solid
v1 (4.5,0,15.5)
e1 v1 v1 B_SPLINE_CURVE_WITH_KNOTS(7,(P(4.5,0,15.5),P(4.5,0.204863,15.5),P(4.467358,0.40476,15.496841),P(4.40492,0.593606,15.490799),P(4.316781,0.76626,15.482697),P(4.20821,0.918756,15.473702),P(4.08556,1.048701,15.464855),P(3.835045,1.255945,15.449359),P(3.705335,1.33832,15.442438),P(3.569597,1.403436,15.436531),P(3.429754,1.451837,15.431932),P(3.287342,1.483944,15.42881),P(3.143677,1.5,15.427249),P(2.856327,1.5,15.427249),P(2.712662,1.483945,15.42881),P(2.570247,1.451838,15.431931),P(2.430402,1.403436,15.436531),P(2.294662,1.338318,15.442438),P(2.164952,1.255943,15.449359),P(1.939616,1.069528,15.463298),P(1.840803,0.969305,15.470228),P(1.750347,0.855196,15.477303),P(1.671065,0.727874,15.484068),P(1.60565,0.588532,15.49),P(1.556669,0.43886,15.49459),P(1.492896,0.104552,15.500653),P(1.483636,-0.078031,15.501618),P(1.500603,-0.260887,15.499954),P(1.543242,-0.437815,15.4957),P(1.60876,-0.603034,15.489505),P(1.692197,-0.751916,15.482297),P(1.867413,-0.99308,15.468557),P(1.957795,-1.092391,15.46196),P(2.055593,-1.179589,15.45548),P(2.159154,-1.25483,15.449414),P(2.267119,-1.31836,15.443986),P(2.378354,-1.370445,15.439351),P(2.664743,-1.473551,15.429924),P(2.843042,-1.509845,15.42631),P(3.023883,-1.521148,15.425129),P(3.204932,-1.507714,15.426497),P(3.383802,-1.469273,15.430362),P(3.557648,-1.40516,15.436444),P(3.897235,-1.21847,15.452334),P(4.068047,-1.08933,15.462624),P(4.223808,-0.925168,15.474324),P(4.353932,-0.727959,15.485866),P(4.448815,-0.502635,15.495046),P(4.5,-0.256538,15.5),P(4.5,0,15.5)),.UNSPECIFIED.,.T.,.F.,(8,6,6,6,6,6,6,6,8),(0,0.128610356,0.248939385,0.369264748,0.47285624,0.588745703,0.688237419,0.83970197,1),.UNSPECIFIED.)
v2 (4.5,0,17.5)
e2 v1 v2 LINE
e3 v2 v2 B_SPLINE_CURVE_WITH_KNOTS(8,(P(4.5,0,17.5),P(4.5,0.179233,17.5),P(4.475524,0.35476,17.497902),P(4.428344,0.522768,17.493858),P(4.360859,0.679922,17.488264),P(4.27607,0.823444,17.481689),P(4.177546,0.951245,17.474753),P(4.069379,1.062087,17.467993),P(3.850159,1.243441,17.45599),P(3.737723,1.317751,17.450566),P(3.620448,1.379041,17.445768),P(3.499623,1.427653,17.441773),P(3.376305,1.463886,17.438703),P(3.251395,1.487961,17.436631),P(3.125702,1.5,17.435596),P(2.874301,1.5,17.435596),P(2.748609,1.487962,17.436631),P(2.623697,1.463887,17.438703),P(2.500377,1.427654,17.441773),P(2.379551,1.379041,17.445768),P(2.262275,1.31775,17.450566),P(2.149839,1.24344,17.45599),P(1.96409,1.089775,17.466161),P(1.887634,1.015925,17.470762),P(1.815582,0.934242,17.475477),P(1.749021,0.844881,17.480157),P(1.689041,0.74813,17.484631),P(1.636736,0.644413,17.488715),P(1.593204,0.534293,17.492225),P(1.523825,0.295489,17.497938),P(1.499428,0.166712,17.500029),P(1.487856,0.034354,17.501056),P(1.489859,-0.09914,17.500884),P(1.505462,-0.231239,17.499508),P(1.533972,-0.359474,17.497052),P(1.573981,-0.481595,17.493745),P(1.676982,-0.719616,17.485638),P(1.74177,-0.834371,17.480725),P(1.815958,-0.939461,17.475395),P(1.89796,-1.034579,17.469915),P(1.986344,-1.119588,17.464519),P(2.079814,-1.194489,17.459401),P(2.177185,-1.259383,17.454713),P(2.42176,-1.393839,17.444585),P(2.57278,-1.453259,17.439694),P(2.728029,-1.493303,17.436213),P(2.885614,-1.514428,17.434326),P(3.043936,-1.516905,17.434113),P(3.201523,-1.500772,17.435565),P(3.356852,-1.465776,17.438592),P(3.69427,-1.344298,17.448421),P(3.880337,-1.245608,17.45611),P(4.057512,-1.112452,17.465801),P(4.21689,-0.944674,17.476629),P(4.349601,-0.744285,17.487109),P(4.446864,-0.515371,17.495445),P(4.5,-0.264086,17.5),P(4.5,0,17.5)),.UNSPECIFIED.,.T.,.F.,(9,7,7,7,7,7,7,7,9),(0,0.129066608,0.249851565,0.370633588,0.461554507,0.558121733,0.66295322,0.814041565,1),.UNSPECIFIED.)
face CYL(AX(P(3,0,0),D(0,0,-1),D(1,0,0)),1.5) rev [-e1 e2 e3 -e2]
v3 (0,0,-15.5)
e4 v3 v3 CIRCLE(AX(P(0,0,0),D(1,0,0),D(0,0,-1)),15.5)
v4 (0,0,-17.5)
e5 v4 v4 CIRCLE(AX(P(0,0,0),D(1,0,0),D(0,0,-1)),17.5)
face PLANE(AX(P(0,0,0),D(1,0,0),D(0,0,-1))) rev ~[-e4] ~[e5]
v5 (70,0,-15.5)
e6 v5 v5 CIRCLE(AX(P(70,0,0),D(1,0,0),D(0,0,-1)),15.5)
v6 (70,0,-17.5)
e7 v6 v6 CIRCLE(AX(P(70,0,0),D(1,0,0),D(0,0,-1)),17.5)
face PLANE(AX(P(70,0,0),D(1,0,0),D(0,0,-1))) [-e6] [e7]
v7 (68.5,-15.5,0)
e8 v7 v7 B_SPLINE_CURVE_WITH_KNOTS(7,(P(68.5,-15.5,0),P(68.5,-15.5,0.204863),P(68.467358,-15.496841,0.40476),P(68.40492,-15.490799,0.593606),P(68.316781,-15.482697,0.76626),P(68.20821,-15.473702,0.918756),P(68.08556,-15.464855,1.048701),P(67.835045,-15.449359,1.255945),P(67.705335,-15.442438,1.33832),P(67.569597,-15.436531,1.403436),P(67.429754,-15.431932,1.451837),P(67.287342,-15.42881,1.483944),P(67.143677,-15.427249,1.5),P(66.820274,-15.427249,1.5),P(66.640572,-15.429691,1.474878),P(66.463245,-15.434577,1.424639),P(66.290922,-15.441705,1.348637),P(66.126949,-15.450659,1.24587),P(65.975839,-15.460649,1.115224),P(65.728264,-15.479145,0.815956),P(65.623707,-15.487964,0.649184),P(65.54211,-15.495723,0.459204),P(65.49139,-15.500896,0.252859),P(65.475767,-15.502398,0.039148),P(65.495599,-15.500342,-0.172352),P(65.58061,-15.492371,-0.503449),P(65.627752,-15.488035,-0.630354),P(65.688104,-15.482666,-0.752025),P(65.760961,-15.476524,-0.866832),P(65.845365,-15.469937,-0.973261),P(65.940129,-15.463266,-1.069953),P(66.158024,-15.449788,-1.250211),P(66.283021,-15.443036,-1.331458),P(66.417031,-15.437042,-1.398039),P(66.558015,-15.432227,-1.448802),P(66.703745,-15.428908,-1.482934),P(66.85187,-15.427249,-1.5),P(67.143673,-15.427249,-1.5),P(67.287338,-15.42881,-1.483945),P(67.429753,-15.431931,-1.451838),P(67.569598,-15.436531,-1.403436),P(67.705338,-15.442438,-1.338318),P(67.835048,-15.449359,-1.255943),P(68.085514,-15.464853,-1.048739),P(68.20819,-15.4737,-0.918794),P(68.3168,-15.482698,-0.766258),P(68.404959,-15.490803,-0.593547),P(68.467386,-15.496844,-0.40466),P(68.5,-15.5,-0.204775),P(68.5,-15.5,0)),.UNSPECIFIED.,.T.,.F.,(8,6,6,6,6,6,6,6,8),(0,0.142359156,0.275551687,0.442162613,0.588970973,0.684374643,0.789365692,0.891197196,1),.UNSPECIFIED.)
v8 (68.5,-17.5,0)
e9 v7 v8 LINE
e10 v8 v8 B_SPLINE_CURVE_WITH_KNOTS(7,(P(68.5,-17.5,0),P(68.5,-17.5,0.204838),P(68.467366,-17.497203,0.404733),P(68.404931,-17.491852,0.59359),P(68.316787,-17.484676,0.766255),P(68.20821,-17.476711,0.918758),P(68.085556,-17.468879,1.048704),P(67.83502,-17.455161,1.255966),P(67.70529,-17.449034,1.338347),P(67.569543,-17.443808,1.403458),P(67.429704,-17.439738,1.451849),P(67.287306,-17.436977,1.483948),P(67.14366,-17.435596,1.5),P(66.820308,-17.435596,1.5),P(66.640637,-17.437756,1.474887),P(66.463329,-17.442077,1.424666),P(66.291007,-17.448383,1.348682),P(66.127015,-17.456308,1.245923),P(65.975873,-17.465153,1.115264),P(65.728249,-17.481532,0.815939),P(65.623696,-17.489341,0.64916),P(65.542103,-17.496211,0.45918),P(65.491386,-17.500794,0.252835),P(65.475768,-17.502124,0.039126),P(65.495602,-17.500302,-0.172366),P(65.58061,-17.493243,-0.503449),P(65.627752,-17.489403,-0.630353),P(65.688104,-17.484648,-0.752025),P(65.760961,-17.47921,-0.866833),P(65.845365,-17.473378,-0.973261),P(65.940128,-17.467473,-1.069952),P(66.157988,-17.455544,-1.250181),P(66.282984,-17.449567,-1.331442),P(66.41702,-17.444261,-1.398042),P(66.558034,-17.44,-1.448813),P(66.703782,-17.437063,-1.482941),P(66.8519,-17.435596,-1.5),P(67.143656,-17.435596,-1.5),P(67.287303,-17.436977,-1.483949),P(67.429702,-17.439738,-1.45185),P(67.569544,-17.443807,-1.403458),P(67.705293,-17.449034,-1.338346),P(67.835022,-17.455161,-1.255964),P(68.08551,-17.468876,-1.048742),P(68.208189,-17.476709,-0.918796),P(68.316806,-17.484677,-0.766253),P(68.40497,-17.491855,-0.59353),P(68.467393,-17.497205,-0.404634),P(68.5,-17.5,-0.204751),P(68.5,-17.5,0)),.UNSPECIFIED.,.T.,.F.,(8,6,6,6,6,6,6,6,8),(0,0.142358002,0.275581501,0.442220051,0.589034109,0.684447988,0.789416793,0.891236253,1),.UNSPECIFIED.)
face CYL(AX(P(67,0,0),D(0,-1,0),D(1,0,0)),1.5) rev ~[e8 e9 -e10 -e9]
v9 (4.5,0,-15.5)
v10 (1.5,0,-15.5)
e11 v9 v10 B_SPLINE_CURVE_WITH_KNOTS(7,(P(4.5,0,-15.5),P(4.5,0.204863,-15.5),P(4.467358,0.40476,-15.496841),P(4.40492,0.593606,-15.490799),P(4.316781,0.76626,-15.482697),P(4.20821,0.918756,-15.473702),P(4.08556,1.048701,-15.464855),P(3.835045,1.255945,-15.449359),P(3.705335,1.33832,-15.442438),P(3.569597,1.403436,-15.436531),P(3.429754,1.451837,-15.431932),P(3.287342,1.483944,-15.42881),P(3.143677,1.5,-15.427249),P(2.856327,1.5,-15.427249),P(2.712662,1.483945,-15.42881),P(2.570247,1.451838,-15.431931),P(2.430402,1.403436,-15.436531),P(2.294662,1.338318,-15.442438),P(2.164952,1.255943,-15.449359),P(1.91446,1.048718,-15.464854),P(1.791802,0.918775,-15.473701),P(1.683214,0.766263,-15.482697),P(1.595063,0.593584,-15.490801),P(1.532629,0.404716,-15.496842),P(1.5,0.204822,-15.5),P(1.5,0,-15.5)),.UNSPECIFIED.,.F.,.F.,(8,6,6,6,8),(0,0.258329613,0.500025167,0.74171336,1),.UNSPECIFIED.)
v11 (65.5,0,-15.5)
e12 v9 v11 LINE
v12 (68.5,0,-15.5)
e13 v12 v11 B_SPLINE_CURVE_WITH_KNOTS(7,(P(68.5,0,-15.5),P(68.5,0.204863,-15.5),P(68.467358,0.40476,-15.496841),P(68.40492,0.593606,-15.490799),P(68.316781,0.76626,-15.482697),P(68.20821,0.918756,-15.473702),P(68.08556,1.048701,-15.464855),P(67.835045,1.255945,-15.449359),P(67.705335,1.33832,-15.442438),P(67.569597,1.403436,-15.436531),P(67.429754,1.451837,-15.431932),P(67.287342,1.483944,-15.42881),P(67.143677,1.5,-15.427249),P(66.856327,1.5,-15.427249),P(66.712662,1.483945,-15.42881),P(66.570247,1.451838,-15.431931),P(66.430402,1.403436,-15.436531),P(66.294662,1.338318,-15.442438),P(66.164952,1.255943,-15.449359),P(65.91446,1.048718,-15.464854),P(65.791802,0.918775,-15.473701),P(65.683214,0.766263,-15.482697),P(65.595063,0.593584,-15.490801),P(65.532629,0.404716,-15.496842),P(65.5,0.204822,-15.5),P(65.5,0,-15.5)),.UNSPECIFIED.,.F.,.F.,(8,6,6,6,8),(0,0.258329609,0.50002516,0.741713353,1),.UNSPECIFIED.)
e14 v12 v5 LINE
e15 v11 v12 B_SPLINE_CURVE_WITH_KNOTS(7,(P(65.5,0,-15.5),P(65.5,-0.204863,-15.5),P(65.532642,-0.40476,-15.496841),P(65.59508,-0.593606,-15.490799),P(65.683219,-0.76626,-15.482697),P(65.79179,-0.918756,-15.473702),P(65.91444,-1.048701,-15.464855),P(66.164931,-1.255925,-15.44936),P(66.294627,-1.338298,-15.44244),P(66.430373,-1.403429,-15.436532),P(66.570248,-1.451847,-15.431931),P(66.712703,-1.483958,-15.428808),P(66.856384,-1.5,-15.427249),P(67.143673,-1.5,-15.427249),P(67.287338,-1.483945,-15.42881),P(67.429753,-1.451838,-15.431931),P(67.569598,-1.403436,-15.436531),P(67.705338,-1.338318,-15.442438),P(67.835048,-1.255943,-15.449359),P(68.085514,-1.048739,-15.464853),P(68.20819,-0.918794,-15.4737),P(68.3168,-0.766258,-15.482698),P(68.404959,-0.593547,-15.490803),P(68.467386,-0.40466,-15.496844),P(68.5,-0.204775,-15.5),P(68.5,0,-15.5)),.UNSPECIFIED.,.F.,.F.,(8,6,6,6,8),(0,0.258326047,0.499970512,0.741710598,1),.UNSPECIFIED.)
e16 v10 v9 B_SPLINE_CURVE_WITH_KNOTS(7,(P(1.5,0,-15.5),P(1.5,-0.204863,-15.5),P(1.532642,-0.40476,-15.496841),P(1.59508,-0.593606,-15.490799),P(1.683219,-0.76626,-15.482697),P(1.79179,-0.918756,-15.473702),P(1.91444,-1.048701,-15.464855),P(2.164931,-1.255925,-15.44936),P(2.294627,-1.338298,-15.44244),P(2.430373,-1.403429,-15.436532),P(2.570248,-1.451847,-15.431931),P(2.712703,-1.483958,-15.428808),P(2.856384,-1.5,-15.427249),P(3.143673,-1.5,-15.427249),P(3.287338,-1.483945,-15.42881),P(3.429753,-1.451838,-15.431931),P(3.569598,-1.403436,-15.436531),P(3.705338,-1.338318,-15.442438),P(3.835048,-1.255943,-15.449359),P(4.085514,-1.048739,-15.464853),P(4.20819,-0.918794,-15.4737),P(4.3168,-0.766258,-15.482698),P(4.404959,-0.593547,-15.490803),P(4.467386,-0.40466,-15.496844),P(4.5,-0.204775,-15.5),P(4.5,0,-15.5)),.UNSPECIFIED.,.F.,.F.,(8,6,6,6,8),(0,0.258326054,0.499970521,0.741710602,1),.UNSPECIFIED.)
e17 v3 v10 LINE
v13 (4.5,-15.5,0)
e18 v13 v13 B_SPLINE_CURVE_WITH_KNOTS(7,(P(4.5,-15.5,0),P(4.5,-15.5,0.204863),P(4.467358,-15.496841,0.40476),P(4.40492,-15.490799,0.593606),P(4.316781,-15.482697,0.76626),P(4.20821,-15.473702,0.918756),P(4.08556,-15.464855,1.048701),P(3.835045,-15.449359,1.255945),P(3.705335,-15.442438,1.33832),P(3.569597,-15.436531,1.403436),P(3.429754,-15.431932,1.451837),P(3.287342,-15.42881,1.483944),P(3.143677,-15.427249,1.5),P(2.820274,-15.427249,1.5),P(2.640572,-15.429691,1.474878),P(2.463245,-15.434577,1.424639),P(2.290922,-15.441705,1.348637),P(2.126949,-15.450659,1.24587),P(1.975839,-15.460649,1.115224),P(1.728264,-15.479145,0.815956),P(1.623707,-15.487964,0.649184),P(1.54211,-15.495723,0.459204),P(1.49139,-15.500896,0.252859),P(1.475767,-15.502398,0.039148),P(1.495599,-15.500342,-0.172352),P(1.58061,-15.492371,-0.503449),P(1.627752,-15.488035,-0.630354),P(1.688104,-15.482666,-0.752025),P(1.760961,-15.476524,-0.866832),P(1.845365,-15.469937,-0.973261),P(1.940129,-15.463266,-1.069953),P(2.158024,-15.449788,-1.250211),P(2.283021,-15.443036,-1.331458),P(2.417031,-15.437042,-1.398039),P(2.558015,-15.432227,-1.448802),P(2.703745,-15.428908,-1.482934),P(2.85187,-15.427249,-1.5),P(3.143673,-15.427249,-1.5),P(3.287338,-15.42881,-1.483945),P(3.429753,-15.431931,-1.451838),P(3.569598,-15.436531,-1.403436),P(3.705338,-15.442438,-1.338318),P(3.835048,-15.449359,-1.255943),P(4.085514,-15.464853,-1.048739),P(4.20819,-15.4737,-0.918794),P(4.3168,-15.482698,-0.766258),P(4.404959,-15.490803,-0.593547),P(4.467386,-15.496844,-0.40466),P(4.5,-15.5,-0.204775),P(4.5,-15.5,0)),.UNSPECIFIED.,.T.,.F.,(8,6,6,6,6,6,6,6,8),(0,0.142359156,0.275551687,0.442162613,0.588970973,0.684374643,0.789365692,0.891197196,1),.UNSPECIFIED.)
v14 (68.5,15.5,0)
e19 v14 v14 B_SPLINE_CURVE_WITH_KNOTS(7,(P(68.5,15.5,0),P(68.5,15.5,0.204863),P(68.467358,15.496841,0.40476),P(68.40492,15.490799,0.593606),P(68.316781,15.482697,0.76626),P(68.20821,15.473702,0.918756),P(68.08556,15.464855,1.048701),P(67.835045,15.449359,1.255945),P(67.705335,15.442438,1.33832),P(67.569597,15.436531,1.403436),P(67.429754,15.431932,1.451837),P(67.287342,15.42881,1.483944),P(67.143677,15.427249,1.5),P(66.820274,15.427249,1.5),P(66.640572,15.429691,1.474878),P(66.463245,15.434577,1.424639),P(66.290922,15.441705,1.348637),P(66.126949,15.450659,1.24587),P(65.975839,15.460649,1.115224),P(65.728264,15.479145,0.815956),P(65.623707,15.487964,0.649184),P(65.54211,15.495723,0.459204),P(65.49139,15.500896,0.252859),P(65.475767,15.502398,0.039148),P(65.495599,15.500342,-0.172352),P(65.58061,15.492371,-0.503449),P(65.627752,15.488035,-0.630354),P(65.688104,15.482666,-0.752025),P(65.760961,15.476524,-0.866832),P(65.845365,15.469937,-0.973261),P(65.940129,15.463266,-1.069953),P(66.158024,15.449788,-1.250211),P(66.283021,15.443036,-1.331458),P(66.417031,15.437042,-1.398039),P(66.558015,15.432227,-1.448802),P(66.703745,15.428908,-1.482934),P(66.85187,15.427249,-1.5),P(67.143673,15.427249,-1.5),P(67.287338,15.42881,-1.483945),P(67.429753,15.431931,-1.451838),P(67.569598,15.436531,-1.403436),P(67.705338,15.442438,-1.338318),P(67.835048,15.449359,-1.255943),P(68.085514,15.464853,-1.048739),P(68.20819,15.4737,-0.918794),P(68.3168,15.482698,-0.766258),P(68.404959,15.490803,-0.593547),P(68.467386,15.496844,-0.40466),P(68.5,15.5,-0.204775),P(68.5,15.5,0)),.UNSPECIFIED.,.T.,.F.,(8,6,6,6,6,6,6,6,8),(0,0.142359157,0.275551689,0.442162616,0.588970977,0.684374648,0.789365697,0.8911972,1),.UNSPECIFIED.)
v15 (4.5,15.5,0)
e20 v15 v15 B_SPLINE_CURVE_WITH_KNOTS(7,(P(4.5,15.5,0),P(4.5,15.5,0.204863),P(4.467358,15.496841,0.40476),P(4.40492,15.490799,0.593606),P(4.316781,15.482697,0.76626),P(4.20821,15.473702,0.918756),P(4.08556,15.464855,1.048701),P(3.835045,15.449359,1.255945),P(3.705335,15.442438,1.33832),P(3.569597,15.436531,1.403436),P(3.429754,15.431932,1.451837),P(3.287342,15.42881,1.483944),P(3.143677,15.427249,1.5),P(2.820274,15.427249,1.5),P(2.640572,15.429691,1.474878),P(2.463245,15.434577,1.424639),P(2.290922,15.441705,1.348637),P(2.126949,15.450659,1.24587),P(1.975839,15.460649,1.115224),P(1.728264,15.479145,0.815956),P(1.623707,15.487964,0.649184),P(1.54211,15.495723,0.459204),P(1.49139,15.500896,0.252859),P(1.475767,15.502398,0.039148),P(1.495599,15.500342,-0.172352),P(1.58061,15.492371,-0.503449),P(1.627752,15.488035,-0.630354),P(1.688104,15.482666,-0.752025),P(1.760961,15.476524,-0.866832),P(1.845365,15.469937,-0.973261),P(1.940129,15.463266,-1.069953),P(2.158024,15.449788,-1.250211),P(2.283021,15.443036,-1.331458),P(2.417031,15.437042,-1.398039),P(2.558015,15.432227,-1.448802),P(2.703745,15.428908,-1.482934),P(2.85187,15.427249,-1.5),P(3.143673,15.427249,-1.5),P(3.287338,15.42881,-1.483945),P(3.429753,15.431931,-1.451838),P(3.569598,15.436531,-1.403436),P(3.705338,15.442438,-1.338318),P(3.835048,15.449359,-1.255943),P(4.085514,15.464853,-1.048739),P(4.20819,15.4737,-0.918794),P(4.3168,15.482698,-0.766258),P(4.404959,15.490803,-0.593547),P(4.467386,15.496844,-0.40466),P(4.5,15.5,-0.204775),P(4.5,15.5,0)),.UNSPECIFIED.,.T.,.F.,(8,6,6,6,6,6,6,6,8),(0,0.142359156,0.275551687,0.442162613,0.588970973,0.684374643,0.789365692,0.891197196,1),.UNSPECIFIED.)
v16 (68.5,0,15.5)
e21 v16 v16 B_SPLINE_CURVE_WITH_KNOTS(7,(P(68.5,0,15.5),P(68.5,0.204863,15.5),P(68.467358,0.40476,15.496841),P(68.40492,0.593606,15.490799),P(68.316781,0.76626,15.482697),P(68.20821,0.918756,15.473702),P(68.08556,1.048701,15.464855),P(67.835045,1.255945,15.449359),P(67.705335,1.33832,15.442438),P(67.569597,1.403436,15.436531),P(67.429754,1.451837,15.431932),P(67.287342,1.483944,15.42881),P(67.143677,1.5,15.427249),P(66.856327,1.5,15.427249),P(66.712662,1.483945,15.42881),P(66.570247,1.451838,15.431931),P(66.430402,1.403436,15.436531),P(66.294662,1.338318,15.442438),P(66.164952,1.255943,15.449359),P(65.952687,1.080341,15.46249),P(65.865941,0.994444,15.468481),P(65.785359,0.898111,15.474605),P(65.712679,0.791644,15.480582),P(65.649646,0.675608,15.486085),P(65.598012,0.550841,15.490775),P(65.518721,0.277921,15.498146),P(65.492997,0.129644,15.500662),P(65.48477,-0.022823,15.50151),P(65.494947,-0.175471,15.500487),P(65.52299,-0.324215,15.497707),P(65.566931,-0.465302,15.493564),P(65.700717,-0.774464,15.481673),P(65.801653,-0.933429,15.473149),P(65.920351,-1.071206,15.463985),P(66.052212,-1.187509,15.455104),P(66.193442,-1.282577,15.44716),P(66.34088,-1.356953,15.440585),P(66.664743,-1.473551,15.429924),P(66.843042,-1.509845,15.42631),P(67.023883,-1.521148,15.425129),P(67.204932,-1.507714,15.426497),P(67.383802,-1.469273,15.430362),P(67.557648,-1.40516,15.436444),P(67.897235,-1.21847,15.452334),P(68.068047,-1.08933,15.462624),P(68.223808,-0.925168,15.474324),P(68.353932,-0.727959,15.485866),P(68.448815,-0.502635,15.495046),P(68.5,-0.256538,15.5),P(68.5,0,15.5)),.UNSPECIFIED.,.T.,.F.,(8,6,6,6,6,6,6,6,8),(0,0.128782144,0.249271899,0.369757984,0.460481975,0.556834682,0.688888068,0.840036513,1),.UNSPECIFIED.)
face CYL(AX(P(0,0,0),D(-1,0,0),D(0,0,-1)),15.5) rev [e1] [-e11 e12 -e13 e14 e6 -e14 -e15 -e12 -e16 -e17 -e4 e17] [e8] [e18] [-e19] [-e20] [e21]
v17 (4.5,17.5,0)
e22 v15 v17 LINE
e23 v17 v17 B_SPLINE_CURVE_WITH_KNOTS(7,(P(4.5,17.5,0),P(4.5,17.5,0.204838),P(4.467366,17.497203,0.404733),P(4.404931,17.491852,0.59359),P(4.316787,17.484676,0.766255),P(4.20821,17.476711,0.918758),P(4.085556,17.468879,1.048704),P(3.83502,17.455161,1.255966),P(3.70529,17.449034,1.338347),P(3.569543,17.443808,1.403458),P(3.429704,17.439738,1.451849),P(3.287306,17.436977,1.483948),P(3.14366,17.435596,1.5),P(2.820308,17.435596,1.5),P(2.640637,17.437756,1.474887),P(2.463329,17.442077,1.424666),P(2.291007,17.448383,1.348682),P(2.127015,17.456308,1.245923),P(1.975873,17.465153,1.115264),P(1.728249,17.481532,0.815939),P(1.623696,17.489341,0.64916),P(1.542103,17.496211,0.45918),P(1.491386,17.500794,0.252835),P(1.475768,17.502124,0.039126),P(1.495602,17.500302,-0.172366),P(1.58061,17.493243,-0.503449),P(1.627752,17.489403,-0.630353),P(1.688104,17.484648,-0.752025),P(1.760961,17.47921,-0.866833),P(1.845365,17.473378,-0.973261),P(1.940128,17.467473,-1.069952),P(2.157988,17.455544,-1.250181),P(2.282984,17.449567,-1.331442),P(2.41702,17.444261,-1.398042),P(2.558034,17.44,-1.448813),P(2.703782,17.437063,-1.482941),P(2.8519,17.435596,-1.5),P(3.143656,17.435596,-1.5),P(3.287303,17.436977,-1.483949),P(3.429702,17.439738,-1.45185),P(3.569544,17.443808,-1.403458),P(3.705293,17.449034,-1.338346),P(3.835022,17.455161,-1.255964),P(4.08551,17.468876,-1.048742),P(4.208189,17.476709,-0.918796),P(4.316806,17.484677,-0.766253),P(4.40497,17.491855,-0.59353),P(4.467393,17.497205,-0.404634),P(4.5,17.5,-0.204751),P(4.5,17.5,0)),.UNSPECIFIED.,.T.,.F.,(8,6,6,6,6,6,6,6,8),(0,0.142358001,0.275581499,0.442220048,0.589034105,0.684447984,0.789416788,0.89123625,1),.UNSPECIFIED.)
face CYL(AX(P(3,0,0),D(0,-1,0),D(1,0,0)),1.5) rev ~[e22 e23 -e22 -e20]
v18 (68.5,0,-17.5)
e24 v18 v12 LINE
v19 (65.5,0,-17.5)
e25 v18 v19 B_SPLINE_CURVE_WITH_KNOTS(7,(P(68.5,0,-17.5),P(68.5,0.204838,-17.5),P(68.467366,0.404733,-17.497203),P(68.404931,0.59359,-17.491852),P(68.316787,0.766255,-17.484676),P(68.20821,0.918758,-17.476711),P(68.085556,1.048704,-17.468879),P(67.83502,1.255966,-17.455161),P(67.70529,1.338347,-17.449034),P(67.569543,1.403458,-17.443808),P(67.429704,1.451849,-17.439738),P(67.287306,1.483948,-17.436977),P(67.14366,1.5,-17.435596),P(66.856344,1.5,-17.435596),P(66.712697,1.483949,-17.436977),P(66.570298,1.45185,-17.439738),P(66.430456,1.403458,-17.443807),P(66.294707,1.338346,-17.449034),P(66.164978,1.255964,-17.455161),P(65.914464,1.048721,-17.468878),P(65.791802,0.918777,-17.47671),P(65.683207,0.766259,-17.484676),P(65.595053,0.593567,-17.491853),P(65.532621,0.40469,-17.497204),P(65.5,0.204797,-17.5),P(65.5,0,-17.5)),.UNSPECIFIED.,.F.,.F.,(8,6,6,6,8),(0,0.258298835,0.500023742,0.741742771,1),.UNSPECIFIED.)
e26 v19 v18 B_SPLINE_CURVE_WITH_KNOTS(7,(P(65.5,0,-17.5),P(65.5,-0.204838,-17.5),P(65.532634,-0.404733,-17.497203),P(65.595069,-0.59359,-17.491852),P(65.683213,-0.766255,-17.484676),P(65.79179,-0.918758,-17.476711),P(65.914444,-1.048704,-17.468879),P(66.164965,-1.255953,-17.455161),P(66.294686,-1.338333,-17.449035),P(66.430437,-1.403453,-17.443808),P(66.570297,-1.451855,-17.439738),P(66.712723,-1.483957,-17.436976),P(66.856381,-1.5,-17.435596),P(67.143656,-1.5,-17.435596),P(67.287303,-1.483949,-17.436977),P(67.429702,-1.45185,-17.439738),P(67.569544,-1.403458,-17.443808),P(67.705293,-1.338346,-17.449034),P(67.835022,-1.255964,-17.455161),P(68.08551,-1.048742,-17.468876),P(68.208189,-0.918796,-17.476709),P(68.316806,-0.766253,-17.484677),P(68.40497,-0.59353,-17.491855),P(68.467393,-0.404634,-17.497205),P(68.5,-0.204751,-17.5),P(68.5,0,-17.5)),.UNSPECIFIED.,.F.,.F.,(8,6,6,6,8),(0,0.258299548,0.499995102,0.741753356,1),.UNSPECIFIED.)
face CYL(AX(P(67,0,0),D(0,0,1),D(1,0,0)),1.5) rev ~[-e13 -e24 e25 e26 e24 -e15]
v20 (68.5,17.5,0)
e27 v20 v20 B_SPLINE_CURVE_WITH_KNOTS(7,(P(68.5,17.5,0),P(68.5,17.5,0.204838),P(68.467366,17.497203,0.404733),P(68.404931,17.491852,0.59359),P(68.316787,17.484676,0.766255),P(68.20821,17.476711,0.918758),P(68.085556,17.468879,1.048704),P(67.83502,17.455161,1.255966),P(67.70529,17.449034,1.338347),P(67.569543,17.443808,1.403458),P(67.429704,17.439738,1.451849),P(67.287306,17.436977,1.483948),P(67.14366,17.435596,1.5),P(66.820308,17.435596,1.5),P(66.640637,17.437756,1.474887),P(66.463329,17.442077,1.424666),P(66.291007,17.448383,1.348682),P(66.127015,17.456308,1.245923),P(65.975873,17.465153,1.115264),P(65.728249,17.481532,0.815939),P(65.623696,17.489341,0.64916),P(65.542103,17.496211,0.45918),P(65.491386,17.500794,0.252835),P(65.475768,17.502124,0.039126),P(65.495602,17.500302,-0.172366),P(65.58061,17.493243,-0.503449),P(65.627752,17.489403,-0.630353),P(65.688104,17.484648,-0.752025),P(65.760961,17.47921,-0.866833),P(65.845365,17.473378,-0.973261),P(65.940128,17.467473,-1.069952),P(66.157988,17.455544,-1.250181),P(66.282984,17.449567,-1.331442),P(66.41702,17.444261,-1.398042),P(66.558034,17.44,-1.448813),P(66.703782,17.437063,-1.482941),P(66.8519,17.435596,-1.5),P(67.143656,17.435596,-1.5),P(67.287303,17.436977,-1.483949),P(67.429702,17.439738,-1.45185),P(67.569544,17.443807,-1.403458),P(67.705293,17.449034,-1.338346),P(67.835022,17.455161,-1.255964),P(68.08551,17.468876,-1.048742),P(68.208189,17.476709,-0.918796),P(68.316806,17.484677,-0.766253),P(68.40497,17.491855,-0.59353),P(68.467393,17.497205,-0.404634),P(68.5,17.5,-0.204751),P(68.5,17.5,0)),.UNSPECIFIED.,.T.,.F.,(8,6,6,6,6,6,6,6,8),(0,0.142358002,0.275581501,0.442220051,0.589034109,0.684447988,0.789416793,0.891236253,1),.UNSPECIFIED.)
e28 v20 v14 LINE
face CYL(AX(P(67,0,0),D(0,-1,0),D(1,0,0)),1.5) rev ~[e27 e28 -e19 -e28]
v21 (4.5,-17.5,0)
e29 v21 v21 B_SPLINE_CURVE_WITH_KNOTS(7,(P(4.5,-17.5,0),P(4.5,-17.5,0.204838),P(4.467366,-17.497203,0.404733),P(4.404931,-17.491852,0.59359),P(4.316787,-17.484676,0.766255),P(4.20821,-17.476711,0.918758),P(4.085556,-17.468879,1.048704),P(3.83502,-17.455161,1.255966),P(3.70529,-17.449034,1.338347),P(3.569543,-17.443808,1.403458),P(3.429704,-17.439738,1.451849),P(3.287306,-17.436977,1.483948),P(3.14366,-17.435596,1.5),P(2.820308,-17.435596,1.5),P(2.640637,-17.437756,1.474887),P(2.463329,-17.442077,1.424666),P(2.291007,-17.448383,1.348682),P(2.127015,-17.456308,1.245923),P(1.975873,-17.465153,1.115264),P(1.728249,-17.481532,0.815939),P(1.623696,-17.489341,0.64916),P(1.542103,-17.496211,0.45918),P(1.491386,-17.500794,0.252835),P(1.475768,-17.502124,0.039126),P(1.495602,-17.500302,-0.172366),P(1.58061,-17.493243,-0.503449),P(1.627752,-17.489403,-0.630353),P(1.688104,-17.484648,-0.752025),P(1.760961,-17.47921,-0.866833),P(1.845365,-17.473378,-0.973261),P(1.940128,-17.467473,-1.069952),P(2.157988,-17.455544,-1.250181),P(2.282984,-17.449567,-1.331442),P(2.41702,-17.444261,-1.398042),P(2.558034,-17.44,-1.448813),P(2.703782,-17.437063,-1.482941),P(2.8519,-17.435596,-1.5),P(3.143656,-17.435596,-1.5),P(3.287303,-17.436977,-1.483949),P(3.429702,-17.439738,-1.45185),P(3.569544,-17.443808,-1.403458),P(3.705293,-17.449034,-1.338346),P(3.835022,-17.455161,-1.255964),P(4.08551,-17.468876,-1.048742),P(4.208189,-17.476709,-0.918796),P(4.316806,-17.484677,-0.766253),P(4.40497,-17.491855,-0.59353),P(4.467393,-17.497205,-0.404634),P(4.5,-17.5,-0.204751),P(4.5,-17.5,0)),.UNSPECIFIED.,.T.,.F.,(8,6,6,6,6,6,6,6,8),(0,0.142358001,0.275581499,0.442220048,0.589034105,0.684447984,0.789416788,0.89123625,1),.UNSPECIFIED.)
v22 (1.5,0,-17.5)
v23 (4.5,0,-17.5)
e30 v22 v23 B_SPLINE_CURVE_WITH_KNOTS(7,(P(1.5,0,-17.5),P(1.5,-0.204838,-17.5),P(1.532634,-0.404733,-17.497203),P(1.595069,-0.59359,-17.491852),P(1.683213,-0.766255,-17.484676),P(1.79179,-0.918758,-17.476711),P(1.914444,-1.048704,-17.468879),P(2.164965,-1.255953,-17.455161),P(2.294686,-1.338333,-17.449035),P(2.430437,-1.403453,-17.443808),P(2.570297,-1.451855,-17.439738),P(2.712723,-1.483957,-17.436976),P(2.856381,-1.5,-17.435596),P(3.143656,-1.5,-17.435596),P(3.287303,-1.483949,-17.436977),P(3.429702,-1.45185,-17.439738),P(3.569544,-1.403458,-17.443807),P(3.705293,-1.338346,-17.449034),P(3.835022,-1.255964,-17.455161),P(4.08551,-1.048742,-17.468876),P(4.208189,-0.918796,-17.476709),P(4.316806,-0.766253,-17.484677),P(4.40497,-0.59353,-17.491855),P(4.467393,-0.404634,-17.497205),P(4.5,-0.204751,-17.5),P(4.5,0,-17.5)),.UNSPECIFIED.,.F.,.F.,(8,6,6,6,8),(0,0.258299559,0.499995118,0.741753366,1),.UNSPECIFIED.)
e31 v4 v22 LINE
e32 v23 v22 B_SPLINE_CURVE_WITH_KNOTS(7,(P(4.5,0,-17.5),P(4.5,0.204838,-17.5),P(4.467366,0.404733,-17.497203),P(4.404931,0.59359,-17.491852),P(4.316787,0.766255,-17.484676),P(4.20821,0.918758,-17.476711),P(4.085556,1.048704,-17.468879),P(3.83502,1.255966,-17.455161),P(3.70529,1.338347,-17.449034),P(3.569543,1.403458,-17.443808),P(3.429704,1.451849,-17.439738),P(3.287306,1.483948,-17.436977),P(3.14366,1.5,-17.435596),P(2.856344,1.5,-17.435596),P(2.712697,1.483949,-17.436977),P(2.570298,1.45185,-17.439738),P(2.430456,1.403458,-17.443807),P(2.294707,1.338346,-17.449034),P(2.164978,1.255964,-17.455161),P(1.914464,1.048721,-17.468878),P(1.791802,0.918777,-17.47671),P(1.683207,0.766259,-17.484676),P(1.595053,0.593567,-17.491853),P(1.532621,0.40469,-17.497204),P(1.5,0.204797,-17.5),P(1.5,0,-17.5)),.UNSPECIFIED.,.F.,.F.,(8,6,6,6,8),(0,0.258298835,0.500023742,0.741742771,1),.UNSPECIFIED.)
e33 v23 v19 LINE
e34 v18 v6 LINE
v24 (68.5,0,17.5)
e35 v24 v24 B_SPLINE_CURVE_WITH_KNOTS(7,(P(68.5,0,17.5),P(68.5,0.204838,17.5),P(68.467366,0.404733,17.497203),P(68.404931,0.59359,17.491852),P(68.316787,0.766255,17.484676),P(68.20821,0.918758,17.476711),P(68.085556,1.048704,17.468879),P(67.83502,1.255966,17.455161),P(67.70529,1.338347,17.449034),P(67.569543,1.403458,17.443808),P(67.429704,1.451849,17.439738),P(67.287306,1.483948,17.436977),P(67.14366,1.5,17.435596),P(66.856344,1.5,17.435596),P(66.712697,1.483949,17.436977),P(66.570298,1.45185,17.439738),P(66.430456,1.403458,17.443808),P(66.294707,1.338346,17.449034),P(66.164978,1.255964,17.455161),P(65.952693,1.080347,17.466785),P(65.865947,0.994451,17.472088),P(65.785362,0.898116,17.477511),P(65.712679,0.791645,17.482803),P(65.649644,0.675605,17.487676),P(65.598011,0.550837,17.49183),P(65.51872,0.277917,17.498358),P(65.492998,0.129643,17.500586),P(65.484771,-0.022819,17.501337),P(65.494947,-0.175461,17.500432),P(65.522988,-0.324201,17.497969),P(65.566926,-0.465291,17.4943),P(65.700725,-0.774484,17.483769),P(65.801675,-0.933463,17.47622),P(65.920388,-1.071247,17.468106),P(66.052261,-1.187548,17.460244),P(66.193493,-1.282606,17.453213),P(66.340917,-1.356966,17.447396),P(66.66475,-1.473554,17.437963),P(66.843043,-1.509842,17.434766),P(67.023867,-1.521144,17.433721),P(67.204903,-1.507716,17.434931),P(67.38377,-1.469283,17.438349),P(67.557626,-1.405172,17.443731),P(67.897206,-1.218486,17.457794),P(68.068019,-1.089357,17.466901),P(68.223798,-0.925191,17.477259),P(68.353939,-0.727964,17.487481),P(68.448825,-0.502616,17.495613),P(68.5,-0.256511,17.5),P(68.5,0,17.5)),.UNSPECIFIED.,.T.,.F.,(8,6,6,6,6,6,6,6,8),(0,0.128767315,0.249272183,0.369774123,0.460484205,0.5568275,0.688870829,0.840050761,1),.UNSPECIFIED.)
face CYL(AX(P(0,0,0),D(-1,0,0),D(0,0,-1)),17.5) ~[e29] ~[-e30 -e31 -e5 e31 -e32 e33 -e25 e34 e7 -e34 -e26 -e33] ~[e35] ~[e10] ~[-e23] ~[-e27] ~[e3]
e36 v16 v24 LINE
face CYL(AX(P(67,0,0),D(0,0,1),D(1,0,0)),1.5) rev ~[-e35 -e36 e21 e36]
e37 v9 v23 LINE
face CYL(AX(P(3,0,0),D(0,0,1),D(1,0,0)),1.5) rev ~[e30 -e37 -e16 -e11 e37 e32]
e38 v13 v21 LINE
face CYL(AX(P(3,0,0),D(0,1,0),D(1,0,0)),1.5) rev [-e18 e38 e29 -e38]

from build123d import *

# Parameters (mm, degrees)
SKETCH_1_R               = 17.5
SKETCH_1_R_2             = 15.5
EXTRUDE_1_DEPTH          = 70
SKETCH_2_R               = 1.5
CUT_EXTRUDE_1_DEPTH      = 75.246212025
PATTERN_CIRCULAR_1_COUNT = 2
PATTERN_CIRCULAR_1_ANGLE = 90


with BuildPart() as part:
    # Эскиз1 → Бобышка-Вытянуть1 (new body)
    with BuildSketch(Plane(origin=(0, 0, 0), x_dir=(0, 0, -1), z_dir=(1, 0, 0))):
        Circle(SKETCH_1_R)
        Circle(SKETCH_1_R_2, mode=Mode.SUBTRACT)
    extrude(amount=EXTRUDE_1_DEPTH)

    # Эскиз2 → Вырез-Вытянуть1 (cut, symmetric)
    with BuildSketch(Plane.XY):
        with Locations((3, 0)):
            Circle(SKETCH_2_R)
        with Locations((67, 0)):
            Circle(SKETCH_2_R)
    cut_extrude_1 = extrude(amount=CUT_EXTRUDE_1_DEPTH, both=True, mode=Mode.SUBTRACT)

    # Круговой массив1: Вырез-Вытянуть1 ×2 about axis
    pattern_circular_1_axis = Axis((9.527991342, 0, 0), (1, 0, 0))
    for i in range(1, PATTERN_CIRCULAR_1_COUNT):
        add(cut_extrude_1.rotate(pattern_circular_1_axis, i * PATTERN_CIRCULAR_1_ANGLE / (PATTERN_CIRCULAR_1_COUNT - 1)), mode=Mode.SUBTRACT)


solid = part.part
